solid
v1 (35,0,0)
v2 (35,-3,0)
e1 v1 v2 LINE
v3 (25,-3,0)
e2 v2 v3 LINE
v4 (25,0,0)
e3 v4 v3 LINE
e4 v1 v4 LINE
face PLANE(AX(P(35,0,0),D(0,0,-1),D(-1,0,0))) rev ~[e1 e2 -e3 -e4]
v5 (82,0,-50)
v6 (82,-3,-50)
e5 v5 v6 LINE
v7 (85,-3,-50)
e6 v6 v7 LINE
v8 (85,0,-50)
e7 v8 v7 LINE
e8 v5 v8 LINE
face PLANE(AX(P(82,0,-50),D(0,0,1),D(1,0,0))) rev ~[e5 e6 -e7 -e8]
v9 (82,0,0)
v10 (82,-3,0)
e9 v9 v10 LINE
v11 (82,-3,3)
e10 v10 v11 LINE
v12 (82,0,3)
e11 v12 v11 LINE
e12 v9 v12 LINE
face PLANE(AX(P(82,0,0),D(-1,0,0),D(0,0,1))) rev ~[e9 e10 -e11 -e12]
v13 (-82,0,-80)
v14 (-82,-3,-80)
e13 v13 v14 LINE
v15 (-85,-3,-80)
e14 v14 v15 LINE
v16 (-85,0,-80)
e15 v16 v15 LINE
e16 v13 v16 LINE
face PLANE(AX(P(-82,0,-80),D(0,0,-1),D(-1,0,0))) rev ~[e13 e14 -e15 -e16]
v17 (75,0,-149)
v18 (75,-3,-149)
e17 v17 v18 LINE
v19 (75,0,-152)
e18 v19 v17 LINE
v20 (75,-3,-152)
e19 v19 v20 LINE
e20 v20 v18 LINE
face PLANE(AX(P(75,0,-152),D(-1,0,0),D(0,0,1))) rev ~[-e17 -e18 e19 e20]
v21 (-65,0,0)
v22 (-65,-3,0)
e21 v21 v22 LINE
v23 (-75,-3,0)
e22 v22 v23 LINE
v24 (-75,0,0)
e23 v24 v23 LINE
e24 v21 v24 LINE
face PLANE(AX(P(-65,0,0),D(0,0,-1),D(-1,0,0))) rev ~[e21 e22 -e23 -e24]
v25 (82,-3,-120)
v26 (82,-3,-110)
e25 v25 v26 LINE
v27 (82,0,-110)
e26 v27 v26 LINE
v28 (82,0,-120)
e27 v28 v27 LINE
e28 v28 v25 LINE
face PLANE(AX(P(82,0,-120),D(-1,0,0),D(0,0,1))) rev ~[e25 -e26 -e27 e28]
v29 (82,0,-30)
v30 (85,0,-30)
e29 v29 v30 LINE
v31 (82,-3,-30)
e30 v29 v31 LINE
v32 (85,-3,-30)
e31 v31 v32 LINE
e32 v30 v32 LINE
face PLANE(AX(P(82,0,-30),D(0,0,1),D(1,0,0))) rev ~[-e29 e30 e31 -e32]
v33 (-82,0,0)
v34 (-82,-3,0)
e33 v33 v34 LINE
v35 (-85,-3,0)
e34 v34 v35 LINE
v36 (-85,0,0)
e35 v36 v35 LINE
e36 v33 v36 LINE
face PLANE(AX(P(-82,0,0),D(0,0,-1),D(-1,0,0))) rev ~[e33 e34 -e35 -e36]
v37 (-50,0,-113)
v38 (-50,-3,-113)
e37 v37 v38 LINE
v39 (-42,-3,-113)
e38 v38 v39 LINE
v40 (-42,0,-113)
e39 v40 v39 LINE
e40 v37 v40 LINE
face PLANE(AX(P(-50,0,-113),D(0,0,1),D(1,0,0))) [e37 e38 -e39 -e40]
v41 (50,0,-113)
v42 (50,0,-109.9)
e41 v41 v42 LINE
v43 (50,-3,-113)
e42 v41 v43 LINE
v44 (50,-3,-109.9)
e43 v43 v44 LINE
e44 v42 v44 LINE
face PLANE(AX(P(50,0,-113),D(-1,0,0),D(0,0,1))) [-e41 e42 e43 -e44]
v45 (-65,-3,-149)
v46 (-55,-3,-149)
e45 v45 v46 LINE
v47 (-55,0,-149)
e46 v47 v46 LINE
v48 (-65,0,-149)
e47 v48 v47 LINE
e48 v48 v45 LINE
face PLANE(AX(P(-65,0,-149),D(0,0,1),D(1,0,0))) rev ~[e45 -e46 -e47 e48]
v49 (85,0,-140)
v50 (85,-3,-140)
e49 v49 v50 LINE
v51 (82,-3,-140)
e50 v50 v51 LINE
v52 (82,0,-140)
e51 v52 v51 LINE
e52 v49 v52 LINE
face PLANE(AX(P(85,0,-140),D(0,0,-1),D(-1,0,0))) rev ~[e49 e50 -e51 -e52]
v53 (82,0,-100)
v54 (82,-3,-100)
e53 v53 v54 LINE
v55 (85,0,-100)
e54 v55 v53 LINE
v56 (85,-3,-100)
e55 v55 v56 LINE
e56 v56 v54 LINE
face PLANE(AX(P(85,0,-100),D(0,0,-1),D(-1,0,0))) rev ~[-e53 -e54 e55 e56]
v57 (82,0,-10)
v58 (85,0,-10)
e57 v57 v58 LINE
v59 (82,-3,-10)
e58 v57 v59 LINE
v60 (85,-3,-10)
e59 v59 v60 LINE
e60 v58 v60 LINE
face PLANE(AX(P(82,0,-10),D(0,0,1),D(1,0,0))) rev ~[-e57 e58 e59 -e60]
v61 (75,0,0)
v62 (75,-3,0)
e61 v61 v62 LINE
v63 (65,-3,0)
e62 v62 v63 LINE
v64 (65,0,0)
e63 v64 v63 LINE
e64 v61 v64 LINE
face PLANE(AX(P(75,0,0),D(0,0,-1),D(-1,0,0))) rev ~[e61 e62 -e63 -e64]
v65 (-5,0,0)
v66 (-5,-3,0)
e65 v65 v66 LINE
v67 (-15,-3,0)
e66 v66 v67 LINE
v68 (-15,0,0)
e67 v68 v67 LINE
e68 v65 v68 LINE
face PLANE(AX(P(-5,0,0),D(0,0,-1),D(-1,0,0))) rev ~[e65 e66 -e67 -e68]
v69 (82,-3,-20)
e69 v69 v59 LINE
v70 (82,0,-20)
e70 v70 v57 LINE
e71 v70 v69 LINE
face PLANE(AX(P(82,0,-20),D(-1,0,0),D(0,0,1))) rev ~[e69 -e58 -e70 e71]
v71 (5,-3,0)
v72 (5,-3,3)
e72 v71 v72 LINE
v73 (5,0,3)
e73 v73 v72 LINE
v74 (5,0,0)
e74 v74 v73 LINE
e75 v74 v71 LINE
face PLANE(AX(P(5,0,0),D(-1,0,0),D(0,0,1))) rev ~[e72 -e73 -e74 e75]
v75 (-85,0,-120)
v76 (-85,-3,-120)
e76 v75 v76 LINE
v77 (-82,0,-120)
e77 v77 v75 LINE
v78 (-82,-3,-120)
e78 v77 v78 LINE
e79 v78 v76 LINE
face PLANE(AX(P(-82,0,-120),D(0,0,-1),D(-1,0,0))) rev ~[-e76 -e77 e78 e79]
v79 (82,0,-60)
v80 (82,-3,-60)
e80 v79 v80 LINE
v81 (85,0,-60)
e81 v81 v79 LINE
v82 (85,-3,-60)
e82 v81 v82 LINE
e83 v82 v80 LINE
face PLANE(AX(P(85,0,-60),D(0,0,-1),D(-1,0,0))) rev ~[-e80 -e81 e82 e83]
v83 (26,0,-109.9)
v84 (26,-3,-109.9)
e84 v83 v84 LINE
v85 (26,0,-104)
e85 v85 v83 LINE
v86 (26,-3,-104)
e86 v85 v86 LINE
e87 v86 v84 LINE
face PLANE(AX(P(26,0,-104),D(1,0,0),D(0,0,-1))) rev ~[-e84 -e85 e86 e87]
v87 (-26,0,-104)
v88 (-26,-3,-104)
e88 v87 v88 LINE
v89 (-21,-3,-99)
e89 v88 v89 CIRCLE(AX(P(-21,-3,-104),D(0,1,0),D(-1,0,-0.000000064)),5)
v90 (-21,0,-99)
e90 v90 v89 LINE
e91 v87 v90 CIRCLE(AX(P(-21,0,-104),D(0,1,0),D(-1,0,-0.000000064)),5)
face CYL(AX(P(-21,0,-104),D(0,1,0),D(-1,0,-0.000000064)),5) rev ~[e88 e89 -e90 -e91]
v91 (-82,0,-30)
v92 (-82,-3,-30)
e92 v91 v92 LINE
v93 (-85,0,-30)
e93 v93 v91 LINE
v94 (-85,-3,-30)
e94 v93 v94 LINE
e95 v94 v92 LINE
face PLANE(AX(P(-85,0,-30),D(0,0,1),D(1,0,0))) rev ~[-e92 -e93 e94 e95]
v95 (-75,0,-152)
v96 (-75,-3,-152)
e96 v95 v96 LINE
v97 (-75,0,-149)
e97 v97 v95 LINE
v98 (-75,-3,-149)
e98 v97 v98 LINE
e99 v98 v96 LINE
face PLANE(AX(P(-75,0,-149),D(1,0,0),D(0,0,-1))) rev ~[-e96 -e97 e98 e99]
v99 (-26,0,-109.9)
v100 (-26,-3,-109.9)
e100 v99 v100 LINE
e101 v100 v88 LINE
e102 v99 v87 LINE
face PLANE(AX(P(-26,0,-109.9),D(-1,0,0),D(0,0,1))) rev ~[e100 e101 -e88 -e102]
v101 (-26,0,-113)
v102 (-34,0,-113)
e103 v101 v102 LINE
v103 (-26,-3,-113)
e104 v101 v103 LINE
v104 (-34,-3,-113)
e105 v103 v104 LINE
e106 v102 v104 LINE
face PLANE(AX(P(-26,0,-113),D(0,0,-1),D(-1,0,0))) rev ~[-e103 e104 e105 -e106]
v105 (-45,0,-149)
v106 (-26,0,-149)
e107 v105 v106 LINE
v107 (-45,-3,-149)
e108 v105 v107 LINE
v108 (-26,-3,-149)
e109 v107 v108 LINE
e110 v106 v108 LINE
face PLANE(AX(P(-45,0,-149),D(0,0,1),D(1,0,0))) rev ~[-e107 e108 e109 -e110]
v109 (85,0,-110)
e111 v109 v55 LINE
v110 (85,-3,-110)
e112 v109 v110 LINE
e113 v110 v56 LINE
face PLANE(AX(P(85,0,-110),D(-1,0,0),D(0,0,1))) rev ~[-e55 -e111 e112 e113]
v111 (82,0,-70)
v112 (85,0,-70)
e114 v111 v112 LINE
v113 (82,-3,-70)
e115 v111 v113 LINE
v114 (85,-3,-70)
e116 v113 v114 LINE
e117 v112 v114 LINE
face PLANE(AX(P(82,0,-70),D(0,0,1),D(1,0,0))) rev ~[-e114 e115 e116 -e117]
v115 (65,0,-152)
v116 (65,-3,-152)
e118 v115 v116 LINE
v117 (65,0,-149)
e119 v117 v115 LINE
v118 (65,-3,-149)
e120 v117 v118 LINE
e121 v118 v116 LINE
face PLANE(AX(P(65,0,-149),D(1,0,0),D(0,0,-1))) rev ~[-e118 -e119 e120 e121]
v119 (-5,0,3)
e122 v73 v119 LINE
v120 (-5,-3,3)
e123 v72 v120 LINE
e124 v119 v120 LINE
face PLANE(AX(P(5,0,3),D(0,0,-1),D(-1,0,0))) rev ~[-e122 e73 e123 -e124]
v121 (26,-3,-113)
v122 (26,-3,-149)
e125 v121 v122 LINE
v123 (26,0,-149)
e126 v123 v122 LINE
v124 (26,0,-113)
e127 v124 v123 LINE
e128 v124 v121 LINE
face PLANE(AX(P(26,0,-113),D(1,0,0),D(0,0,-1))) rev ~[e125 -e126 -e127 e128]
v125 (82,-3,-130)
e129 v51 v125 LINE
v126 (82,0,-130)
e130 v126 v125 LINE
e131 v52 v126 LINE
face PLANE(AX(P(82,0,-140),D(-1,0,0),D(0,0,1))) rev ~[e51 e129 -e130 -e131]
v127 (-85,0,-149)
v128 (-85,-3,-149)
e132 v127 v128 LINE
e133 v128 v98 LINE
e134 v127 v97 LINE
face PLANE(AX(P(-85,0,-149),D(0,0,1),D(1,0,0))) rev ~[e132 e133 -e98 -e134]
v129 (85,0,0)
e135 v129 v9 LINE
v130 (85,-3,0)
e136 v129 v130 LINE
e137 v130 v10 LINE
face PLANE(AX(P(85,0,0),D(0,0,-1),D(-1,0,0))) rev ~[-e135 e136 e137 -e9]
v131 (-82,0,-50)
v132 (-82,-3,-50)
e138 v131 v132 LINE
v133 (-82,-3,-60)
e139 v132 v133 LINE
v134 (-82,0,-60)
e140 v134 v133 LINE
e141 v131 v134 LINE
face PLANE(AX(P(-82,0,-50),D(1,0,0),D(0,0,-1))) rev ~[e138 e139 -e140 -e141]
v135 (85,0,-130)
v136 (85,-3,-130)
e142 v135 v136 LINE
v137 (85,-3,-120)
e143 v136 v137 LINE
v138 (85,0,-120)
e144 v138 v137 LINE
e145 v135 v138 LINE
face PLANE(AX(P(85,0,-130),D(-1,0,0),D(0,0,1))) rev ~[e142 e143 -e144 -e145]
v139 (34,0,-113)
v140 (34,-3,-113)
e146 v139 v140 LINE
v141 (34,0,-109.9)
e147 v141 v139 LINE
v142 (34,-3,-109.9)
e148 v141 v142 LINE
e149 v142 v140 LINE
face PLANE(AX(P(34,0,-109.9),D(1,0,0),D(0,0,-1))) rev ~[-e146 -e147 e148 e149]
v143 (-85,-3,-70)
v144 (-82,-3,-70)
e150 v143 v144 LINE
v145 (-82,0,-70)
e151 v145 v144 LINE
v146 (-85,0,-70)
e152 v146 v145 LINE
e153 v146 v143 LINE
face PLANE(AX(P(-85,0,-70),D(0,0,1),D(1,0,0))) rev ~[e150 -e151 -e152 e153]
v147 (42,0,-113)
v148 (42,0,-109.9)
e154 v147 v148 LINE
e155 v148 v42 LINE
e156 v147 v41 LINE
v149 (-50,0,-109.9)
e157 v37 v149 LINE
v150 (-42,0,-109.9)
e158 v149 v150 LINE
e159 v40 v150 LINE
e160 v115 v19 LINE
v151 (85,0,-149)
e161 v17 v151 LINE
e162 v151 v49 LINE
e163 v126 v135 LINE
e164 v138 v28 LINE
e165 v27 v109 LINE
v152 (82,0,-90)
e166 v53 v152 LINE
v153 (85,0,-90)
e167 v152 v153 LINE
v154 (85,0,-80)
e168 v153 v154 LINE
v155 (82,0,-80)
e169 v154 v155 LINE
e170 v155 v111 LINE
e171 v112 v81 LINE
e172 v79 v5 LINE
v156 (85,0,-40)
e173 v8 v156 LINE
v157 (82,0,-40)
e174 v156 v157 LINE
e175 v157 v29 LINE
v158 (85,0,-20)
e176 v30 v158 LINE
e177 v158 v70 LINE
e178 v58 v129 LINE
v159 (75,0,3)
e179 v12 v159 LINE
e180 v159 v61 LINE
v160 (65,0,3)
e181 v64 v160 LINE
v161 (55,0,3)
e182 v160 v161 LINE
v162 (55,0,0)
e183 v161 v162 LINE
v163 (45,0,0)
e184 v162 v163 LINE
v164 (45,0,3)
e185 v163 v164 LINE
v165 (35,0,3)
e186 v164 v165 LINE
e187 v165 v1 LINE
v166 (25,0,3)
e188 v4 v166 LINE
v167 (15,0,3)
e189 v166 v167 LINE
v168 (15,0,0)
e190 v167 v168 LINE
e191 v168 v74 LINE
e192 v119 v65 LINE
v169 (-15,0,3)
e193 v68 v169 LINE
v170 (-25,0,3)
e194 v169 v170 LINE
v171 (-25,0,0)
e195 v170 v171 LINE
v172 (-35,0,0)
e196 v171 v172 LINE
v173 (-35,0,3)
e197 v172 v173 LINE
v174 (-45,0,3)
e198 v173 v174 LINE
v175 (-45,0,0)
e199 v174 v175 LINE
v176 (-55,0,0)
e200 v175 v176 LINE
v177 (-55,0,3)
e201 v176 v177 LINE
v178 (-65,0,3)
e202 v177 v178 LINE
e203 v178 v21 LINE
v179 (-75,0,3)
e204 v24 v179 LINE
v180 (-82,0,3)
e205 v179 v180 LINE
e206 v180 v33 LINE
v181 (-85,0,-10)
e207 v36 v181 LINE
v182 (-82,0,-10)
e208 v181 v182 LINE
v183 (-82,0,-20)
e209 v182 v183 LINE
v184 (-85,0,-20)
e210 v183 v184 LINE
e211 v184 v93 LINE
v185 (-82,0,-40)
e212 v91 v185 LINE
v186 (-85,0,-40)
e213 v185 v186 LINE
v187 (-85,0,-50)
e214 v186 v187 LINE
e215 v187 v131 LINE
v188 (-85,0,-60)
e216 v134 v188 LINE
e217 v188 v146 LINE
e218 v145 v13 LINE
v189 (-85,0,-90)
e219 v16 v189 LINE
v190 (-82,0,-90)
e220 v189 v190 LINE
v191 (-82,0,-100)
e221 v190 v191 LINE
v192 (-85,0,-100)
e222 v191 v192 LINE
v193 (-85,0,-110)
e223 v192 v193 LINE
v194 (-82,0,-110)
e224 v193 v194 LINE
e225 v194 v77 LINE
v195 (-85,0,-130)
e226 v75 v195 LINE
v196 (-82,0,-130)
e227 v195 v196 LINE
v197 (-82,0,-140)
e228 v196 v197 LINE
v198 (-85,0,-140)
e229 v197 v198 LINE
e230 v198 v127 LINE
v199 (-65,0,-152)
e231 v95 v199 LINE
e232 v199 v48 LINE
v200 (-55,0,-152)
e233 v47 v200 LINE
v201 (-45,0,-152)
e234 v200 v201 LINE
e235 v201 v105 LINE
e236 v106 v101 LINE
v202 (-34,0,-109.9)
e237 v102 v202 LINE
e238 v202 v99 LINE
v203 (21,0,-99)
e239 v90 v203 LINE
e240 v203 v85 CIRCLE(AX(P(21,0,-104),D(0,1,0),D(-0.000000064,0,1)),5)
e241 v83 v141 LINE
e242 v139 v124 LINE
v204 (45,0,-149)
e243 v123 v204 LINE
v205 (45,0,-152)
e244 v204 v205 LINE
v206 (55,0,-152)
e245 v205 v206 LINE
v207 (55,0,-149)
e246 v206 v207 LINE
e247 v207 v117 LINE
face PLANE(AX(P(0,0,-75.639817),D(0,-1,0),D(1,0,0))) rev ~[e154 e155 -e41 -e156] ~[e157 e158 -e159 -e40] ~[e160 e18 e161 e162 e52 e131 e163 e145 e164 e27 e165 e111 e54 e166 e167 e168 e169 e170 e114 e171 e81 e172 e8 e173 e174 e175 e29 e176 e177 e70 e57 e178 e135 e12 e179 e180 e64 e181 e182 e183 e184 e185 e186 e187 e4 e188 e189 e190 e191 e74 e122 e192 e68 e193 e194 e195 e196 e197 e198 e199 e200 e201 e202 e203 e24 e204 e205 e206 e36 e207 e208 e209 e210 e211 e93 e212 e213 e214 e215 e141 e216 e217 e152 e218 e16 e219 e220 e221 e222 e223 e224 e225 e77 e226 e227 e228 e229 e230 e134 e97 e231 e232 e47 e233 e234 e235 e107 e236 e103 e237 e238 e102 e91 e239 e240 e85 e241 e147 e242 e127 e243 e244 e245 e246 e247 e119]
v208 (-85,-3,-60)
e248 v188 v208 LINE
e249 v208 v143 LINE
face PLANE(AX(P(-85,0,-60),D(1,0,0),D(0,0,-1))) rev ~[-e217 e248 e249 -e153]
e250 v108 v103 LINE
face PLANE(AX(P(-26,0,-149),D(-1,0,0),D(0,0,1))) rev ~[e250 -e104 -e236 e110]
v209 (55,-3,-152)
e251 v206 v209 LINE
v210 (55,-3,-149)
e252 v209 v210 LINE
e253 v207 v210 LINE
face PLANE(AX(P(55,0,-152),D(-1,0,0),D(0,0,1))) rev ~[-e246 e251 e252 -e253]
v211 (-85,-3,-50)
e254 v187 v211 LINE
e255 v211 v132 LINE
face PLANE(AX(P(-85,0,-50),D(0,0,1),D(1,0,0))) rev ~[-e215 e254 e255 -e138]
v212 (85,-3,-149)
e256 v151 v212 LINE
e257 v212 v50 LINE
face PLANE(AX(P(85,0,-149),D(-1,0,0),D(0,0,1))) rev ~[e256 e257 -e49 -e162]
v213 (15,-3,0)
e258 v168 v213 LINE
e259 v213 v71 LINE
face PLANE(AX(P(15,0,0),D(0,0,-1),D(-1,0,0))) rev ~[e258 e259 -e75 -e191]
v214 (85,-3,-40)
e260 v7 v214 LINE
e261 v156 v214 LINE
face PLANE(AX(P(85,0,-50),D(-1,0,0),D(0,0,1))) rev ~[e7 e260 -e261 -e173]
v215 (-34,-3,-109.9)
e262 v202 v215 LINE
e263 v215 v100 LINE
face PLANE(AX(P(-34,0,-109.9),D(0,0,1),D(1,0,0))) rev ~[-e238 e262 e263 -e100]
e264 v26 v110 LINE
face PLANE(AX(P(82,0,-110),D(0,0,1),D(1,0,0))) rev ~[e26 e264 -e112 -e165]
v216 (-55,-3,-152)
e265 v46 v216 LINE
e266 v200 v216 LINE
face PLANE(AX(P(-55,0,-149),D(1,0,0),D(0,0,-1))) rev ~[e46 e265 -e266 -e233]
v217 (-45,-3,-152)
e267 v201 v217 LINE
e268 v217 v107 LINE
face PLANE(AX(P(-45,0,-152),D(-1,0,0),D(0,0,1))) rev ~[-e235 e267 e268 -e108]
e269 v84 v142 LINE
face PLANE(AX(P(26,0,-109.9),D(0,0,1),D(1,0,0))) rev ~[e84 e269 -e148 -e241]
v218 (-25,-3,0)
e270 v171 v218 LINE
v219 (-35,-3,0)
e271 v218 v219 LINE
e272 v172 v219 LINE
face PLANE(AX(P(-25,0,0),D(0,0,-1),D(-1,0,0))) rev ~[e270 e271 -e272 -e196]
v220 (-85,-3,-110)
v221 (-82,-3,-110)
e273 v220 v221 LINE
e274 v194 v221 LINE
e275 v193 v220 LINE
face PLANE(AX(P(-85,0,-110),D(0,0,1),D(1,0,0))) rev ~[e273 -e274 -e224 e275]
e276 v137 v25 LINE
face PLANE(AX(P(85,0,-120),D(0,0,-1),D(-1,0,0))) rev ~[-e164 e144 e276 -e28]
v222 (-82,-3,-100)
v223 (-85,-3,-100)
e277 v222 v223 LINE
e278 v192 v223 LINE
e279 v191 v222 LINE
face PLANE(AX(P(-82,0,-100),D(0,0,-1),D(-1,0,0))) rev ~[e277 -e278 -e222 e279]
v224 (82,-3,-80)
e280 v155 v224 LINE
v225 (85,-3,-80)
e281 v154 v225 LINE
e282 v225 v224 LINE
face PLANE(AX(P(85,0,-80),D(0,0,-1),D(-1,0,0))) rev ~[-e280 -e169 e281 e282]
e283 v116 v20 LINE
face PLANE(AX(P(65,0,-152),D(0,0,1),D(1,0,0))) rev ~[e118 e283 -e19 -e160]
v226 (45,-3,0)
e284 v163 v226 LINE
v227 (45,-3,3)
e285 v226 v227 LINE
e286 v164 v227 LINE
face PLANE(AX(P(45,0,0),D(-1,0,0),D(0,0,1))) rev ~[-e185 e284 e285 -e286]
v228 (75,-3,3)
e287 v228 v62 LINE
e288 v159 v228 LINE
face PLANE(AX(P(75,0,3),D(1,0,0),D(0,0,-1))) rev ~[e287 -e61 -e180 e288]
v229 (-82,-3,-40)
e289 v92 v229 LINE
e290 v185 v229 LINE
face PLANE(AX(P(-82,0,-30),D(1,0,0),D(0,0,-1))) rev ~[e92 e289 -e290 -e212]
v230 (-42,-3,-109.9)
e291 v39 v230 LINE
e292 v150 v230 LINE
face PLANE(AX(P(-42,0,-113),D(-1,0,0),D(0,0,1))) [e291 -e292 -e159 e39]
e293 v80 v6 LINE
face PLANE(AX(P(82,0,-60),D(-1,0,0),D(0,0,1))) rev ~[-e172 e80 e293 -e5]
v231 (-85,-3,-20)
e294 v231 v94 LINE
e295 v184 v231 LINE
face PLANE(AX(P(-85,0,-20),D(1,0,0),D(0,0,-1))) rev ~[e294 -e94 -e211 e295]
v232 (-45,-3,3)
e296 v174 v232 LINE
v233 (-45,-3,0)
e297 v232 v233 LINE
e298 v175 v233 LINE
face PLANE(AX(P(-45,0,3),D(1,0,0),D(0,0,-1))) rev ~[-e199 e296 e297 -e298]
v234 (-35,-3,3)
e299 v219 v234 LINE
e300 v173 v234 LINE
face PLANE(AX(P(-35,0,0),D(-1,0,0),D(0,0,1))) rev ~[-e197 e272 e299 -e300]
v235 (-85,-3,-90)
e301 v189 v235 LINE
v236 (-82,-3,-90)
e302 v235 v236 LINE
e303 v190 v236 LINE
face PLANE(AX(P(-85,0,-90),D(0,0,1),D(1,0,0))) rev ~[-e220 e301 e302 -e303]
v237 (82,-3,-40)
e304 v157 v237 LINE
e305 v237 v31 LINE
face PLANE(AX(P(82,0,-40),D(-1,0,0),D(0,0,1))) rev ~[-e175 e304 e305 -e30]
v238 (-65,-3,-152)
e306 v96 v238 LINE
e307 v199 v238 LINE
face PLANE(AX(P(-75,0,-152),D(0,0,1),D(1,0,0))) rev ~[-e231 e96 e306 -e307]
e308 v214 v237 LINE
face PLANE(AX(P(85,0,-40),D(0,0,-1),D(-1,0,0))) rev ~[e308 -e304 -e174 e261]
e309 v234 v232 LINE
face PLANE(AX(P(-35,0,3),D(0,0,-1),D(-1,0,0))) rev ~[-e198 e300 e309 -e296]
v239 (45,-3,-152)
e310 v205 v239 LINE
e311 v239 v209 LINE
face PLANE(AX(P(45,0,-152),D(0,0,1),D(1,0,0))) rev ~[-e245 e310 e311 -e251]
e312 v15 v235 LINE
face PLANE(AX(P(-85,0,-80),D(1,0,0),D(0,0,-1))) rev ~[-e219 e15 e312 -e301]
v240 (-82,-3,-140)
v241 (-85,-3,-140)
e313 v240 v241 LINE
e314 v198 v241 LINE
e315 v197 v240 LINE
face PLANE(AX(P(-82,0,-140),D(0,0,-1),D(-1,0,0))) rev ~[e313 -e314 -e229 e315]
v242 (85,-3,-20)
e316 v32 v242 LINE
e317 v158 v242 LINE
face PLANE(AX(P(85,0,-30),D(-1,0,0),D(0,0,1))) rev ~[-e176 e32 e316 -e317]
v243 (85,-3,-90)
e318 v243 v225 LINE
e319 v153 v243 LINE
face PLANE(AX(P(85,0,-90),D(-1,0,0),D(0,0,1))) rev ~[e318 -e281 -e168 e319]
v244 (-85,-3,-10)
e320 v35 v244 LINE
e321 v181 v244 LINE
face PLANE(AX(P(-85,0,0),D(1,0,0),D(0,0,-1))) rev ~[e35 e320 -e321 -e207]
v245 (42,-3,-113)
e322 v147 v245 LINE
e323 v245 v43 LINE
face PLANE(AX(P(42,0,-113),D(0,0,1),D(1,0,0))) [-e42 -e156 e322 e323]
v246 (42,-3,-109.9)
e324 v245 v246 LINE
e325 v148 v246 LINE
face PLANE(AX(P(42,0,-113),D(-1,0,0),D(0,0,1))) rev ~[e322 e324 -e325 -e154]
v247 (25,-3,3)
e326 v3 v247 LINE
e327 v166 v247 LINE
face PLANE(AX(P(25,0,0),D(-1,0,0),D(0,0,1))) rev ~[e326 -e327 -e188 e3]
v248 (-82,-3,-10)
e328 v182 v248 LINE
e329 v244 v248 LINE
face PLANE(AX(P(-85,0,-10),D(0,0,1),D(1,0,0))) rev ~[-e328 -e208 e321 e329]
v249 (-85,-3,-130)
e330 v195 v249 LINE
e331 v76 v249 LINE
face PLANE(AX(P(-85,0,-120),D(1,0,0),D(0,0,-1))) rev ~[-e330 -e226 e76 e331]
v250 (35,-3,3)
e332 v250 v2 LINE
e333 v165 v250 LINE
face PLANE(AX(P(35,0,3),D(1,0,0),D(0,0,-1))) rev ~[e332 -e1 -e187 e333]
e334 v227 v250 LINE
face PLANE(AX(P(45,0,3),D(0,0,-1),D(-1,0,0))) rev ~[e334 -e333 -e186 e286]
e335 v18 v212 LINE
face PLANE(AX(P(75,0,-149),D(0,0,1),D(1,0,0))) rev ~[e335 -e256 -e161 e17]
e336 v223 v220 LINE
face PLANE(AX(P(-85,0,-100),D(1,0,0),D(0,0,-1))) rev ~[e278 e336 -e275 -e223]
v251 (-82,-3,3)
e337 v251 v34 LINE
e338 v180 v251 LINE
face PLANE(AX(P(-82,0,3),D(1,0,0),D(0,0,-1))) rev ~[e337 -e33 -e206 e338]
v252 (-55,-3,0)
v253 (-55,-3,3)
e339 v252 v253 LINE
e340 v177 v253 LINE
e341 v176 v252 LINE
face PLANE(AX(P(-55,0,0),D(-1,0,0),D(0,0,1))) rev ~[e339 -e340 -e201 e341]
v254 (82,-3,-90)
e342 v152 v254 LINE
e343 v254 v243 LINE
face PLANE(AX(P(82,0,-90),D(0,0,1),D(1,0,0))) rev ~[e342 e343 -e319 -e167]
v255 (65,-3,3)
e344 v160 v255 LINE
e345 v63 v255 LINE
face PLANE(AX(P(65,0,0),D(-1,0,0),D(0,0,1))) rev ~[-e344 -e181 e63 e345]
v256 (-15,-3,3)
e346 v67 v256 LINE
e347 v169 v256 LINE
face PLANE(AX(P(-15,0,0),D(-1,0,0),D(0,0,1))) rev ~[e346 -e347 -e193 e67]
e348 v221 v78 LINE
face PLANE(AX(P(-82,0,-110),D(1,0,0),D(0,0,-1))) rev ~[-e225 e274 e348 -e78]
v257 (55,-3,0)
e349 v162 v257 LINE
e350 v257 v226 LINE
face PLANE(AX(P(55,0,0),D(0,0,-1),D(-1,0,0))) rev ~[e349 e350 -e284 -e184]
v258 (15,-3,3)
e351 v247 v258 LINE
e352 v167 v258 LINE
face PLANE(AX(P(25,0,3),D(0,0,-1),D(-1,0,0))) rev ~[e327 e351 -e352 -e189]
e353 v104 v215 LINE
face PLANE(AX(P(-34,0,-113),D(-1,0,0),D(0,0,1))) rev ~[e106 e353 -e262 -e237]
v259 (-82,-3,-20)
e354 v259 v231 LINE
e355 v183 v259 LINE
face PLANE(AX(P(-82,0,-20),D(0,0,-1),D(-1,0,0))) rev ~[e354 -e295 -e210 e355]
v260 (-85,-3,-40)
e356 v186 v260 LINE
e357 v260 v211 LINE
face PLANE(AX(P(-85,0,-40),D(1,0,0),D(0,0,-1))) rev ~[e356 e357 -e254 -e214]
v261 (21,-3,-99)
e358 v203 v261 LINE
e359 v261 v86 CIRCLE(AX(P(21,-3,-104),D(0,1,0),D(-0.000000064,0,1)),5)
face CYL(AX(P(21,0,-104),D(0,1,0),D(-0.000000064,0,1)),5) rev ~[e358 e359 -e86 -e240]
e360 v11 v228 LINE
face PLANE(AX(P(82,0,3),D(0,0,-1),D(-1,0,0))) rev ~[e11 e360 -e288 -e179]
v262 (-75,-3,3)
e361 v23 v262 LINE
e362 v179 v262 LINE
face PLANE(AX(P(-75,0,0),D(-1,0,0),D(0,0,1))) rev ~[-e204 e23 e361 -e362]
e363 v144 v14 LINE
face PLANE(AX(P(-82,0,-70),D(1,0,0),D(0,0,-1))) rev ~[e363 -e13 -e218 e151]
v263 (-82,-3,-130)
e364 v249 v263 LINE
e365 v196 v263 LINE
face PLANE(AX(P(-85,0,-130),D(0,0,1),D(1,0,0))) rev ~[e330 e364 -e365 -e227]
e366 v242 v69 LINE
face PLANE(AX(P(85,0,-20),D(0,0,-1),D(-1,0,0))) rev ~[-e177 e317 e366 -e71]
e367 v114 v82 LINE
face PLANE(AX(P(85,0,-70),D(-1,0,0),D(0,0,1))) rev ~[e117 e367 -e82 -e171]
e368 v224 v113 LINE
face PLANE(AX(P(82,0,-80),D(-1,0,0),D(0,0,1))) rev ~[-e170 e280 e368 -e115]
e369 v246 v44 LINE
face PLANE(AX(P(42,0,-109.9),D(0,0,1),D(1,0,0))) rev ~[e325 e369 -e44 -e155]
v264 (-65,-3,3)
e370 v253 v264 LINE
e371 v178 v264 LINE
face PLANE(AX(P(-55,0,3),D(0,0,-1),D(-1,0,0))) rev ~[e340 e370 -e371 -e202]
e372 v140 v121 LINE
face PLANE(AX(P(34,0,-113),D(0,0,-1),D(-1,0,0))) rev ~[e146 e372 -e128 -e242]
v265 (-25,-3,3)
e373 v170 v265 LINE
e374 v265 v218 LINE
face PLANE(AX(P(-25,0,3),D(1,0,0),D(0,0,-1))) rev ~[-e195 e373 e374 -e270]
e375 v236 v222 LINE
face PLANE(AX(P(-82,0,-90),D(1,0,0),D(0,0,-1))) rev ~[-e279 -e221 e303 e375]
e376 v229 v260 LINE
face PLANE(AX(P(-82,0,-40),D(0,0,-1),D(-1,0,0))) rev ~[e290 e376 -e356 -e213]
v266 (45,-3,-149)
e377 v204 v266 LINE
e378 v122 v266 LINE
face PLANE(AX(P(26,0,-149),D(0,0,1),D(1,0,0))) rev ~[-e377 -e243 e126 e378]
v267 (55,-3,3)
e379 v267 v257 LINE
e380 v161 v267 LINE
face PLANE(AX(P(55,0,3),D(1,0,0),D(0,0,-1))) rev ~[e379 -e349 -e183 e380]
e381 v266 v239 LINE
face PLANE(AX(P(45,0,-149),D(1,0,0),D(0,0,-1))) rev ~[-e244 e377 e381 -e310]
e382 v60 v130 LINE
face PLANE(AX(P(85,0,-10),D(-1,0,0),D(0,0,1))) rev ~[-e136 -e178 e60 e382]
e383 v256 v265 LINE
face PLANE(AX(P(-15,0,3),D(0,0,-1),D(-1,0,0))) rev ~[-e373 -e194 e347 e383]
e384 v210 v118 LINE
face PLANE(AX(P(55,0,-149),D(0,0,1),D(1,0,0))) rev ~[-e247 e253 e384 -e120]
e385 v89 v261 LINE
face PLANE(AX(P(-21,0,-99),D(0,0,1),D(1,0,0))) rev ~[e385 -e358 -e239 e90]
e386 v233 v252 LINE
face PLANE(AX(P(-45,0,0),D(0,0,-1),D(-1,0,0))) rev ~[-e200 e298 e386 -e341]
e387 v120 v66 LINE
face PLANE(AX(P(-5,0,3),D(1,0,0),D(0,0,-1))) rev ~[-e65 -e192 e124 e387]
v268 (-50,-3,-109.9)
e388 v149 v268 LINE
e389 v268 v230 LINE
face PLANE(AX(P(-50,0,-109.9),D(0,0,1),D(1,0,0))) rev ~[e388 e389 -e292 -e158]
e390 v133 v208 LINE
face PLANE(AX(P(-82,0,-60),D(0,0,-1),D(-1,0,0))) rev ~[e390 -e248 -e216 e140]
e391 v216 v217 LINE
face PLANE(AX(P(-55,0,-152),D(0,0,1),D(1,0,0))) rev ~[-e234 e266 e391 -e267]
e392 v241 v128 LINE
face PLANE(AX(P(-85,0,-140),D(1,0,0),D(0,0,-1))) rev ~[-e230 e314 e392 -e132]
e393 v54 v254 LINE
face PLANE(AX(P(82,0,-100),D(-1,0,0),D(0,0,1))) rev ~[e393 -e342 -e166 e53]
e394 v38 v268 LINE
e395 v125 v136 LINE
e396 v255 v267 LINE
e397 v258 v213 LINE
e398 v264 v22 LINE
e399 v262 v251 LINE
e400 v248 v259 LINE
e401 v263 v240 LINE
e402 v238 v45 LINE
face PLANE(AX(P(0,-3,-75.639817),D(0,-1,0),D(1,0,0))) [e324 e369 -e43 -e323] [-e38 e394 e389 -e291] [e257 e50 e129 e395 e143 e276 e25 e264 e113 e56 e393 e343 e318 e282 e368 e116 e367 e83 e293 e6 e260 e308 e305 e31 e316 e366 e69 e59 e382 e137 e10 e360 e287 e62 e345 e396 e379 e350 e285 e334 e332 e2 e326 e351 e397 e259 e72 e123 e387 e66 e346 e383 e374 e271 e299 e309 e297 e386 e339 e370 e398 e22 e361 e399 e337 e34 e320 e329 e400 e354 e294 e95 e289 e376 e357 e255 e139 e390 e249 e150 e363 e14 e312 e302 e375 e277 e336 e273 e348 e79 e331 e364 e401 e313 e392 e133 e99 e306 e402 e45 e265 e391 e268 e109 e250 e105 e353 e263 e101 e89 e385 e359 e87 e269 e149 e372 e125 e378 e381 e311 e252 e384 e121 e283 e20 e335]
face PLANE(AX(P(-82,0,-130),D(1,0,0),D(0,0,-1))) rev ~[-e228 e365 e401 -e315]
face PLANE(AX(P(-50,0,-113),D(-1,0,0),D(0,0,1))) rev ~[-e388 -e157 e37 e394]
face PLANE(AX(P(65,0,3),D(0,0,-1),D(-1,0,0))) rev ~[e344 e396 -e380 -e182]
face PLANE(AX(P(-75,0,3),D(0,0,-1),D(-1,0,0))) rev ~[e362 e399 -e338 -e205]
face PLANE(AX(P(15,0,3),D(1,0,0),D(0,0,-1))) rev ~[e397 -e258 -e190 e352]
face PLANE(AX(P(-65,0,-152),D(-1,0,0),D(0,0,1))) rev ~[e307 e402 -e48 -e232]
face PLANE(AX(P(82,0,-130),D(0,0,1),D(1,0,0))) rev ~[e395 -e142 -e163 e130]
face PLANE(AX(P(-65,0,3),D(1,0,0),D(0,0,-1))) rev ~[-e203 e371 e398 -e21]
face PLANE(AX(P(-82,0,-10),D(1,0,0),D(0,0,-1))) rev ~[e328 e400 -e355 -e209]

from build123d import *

# Parameters (mm, degrees)
F1_W     = 8
F1_H     = 3.1
F2_DEPTH = 3


with BuildPart() as f2:
    # F1 (on Front) → F2 (new body)
    with BuildSketch(Plane.XZ):
        with BuildLine():
            Line((82, 0), (82, 3))
            Line((82, 3), (75, 3))
            Line((75, 3), (75, 0))
            Line((75, 0), (65, 0))
            Line((65, 0), (65, 3))
            Line((65, 3), (55, 3))
            Line((55, 3), (55, 0))
            Line((55, 0), (45, 0))
            Line((45, 0), (45, 3))
            Line((45, 3), (35, 3))
            Line((35, 3), (35, 0))
            Line((35, 0), (25, 0))
            Line((25, 0), (25, 3))
            Line((25, 3), (15, 3))
            Line((15, 3), (15, 0))
            Line((15, 0), (5, 0))
            Line((5, 0), (5, 3))
            Line((5, 3), (-5, 3))
            Line((-5, 3), (-5, 0))
            Line((-5, 0), (-15, 0))
            Line((-15, 0), (-15, 3))
            Line((-15, 3), (-25, 3))
            Line((-25, 3), (-25, 0))
            Line((-25, 0), (-35, 0))
            Line((-35, 0), (-35, 3))
            Line((-35, 3), (-45, 3))
            Line((-45, 3), (-45, 0))
            Line((-45, 0), (-55, 0))
            Line((-55, 0), (-55, 3))
            Line((-55, 3), (-65, 3))
            Line((-65, 3), (-65, 0))
            Line((-65, 0), (-75, 0))
            Line((-75, 0), (-75, 3))
            Line((-75, 3), (-82, 3))
            Line((-82, 3), (-82, 0))
            Line((-82, 0), (-85, 0))
            Line((-85, 0), (-85, -10))
            Line((-85, -10), (-82, -10))
            Line((-82, -10), (-82, -20))
            Line((-82, -20), (-85, -20))
            Line((-85, -20), (-85, -30))
            Line((-85, -30), (-82, -30))
            Line((-82, -30), (-82, -40))
            Line((-82, -40), (-85, -40))
            Line((-85, -40), (-85, -50))
            Line((-85, -50), (-82, -50))
            Line((-82, -50), (-82, -60))
            Line((-82, -60), (-85, -60))
            Line((-85, -60), (-85, -70))
            Line((-85, -70), (-82, -70))
            Line((-82, -70), (-82, -80))
            Line((-82, -80), (-85, -80))
            Line((-85, -80), (-85, -90))
            Line((-85, -90), (-82, -90))
            Line((-82, -90), (-82, -100))
            Line((-82, -100), (-85, -100))
            Line((-85, -100), (-85, -110))
            Line((-85, -110), (-82, -110))
            Line((-82, -110), (-82, -120))
            Line((-82, -120), (-85, -120))
            Line((-85, -120), (-85, -130))
            Line((-85, -130), (-82, -130))
            Line((-82, -130), (-82, -140))
            Line((-82, -140), (-85, -140))
            Line((-85, -140), (-85, -149))
            Line((-85, -149), (-75, -149))
            Line((-75, -149), (-75, -152))
            Line((-75, -152), (-65, -152))
            Line((-65, -152), (-65, -149))
            Line((-65, -149), (-55, -149))
            Line((-55, -149), (-55, -152))
            Line((-55, -152), (-45, -152))
            Line((-45, -152), (-45, -149))
            Line((-45, -149), (-26, -149))
            Line((-26, -149), (-26, -113))
            Line((-26, -113), (-34, -113))
            Line((-34, -113), (-34, -109.9))
            Line((-34, -109.9), (-26, -109.9))
            Line((-26, -109.9), (-26, -104))
            ThreePointArc((-26, -104), (-24.535534, -100.464466), (-21, -99))
            Line((-21, -99), (21, -99))
            ThreePointArc((21, -99), (24.535534, -100.464466), (26, -104))
            Line((26, -104), (26, -109.9))
            Line((26, -109.9), (34, -109.9))
            Line((34, -109.9), (34, -113))
            Line((34, -113), (26, -113))
            Line((26, -113), (26, -149))
            Line((26, -149), (45, -149))
            Line((45, -149), (45, -152))
            Line((45, -152), (55, -152))
            Line((55, -152), (55, -149))
            Line((55, -149), (65, -149))
            Line((65, -149), (65, -152))
            Line((65, -152), (75, -152))
            Line((75, -152), (75, -149))
            Line((75, -149), (85, -149))
            Line((85, -149), (85, -140))
            Line((85, -140), (82, -140))
            Line((82, -140), (82, -130))
            Line((82, -130), (85, -130))
            Line((85, -130), (85, -120))
            Line((85, -120), (82, -120))
            Line((82, -120), (82, -110))
            Line((82, -110), (85, -110))
            Line((85, -110), (85, -100))
            Line((85, -100), (82, -100))
            Line((82, -100), (82, -90))
            Line((82, -90), (85, -90))
            Line((85, -90), (85, -80))
            Line((85, -80), (82, -80))
            Line((82, -80), (82, -70))
            Line((82, -70), (85, -70))
            Line((85, -70), (85, -60))
            Line((85, -60), (82, -60))
            Line((82, -60), (82, -50))
            Line((82, -50), (85, -50))
            Line((85, -50), (85, -40))
            Line((85, -40), (82, -40))
            Line((82, -40), (82, -30))
            Line((82, -30), (85, -30))
            Line((85, -30), (85, -20))
            Line((85, -20), (82, -20))
            Line((82, -20), (82, -10))
            Line((82, -10), (85, -10))
            Line((85, -10), (85, 0))
            Line((85, 0), (82, 0))
        make_face()
        with Locations((-46, -111.45)):
            Rectangle(F1_W, F1_H, mode=Mode.SUBTRACT)
        with Locations((46, -111.45)):
            Rectangle(F1_W, F1_H, mode=Mode.SUBTRACT)
    extrude(amount=F2_DEPTH)


solid = f2.part
